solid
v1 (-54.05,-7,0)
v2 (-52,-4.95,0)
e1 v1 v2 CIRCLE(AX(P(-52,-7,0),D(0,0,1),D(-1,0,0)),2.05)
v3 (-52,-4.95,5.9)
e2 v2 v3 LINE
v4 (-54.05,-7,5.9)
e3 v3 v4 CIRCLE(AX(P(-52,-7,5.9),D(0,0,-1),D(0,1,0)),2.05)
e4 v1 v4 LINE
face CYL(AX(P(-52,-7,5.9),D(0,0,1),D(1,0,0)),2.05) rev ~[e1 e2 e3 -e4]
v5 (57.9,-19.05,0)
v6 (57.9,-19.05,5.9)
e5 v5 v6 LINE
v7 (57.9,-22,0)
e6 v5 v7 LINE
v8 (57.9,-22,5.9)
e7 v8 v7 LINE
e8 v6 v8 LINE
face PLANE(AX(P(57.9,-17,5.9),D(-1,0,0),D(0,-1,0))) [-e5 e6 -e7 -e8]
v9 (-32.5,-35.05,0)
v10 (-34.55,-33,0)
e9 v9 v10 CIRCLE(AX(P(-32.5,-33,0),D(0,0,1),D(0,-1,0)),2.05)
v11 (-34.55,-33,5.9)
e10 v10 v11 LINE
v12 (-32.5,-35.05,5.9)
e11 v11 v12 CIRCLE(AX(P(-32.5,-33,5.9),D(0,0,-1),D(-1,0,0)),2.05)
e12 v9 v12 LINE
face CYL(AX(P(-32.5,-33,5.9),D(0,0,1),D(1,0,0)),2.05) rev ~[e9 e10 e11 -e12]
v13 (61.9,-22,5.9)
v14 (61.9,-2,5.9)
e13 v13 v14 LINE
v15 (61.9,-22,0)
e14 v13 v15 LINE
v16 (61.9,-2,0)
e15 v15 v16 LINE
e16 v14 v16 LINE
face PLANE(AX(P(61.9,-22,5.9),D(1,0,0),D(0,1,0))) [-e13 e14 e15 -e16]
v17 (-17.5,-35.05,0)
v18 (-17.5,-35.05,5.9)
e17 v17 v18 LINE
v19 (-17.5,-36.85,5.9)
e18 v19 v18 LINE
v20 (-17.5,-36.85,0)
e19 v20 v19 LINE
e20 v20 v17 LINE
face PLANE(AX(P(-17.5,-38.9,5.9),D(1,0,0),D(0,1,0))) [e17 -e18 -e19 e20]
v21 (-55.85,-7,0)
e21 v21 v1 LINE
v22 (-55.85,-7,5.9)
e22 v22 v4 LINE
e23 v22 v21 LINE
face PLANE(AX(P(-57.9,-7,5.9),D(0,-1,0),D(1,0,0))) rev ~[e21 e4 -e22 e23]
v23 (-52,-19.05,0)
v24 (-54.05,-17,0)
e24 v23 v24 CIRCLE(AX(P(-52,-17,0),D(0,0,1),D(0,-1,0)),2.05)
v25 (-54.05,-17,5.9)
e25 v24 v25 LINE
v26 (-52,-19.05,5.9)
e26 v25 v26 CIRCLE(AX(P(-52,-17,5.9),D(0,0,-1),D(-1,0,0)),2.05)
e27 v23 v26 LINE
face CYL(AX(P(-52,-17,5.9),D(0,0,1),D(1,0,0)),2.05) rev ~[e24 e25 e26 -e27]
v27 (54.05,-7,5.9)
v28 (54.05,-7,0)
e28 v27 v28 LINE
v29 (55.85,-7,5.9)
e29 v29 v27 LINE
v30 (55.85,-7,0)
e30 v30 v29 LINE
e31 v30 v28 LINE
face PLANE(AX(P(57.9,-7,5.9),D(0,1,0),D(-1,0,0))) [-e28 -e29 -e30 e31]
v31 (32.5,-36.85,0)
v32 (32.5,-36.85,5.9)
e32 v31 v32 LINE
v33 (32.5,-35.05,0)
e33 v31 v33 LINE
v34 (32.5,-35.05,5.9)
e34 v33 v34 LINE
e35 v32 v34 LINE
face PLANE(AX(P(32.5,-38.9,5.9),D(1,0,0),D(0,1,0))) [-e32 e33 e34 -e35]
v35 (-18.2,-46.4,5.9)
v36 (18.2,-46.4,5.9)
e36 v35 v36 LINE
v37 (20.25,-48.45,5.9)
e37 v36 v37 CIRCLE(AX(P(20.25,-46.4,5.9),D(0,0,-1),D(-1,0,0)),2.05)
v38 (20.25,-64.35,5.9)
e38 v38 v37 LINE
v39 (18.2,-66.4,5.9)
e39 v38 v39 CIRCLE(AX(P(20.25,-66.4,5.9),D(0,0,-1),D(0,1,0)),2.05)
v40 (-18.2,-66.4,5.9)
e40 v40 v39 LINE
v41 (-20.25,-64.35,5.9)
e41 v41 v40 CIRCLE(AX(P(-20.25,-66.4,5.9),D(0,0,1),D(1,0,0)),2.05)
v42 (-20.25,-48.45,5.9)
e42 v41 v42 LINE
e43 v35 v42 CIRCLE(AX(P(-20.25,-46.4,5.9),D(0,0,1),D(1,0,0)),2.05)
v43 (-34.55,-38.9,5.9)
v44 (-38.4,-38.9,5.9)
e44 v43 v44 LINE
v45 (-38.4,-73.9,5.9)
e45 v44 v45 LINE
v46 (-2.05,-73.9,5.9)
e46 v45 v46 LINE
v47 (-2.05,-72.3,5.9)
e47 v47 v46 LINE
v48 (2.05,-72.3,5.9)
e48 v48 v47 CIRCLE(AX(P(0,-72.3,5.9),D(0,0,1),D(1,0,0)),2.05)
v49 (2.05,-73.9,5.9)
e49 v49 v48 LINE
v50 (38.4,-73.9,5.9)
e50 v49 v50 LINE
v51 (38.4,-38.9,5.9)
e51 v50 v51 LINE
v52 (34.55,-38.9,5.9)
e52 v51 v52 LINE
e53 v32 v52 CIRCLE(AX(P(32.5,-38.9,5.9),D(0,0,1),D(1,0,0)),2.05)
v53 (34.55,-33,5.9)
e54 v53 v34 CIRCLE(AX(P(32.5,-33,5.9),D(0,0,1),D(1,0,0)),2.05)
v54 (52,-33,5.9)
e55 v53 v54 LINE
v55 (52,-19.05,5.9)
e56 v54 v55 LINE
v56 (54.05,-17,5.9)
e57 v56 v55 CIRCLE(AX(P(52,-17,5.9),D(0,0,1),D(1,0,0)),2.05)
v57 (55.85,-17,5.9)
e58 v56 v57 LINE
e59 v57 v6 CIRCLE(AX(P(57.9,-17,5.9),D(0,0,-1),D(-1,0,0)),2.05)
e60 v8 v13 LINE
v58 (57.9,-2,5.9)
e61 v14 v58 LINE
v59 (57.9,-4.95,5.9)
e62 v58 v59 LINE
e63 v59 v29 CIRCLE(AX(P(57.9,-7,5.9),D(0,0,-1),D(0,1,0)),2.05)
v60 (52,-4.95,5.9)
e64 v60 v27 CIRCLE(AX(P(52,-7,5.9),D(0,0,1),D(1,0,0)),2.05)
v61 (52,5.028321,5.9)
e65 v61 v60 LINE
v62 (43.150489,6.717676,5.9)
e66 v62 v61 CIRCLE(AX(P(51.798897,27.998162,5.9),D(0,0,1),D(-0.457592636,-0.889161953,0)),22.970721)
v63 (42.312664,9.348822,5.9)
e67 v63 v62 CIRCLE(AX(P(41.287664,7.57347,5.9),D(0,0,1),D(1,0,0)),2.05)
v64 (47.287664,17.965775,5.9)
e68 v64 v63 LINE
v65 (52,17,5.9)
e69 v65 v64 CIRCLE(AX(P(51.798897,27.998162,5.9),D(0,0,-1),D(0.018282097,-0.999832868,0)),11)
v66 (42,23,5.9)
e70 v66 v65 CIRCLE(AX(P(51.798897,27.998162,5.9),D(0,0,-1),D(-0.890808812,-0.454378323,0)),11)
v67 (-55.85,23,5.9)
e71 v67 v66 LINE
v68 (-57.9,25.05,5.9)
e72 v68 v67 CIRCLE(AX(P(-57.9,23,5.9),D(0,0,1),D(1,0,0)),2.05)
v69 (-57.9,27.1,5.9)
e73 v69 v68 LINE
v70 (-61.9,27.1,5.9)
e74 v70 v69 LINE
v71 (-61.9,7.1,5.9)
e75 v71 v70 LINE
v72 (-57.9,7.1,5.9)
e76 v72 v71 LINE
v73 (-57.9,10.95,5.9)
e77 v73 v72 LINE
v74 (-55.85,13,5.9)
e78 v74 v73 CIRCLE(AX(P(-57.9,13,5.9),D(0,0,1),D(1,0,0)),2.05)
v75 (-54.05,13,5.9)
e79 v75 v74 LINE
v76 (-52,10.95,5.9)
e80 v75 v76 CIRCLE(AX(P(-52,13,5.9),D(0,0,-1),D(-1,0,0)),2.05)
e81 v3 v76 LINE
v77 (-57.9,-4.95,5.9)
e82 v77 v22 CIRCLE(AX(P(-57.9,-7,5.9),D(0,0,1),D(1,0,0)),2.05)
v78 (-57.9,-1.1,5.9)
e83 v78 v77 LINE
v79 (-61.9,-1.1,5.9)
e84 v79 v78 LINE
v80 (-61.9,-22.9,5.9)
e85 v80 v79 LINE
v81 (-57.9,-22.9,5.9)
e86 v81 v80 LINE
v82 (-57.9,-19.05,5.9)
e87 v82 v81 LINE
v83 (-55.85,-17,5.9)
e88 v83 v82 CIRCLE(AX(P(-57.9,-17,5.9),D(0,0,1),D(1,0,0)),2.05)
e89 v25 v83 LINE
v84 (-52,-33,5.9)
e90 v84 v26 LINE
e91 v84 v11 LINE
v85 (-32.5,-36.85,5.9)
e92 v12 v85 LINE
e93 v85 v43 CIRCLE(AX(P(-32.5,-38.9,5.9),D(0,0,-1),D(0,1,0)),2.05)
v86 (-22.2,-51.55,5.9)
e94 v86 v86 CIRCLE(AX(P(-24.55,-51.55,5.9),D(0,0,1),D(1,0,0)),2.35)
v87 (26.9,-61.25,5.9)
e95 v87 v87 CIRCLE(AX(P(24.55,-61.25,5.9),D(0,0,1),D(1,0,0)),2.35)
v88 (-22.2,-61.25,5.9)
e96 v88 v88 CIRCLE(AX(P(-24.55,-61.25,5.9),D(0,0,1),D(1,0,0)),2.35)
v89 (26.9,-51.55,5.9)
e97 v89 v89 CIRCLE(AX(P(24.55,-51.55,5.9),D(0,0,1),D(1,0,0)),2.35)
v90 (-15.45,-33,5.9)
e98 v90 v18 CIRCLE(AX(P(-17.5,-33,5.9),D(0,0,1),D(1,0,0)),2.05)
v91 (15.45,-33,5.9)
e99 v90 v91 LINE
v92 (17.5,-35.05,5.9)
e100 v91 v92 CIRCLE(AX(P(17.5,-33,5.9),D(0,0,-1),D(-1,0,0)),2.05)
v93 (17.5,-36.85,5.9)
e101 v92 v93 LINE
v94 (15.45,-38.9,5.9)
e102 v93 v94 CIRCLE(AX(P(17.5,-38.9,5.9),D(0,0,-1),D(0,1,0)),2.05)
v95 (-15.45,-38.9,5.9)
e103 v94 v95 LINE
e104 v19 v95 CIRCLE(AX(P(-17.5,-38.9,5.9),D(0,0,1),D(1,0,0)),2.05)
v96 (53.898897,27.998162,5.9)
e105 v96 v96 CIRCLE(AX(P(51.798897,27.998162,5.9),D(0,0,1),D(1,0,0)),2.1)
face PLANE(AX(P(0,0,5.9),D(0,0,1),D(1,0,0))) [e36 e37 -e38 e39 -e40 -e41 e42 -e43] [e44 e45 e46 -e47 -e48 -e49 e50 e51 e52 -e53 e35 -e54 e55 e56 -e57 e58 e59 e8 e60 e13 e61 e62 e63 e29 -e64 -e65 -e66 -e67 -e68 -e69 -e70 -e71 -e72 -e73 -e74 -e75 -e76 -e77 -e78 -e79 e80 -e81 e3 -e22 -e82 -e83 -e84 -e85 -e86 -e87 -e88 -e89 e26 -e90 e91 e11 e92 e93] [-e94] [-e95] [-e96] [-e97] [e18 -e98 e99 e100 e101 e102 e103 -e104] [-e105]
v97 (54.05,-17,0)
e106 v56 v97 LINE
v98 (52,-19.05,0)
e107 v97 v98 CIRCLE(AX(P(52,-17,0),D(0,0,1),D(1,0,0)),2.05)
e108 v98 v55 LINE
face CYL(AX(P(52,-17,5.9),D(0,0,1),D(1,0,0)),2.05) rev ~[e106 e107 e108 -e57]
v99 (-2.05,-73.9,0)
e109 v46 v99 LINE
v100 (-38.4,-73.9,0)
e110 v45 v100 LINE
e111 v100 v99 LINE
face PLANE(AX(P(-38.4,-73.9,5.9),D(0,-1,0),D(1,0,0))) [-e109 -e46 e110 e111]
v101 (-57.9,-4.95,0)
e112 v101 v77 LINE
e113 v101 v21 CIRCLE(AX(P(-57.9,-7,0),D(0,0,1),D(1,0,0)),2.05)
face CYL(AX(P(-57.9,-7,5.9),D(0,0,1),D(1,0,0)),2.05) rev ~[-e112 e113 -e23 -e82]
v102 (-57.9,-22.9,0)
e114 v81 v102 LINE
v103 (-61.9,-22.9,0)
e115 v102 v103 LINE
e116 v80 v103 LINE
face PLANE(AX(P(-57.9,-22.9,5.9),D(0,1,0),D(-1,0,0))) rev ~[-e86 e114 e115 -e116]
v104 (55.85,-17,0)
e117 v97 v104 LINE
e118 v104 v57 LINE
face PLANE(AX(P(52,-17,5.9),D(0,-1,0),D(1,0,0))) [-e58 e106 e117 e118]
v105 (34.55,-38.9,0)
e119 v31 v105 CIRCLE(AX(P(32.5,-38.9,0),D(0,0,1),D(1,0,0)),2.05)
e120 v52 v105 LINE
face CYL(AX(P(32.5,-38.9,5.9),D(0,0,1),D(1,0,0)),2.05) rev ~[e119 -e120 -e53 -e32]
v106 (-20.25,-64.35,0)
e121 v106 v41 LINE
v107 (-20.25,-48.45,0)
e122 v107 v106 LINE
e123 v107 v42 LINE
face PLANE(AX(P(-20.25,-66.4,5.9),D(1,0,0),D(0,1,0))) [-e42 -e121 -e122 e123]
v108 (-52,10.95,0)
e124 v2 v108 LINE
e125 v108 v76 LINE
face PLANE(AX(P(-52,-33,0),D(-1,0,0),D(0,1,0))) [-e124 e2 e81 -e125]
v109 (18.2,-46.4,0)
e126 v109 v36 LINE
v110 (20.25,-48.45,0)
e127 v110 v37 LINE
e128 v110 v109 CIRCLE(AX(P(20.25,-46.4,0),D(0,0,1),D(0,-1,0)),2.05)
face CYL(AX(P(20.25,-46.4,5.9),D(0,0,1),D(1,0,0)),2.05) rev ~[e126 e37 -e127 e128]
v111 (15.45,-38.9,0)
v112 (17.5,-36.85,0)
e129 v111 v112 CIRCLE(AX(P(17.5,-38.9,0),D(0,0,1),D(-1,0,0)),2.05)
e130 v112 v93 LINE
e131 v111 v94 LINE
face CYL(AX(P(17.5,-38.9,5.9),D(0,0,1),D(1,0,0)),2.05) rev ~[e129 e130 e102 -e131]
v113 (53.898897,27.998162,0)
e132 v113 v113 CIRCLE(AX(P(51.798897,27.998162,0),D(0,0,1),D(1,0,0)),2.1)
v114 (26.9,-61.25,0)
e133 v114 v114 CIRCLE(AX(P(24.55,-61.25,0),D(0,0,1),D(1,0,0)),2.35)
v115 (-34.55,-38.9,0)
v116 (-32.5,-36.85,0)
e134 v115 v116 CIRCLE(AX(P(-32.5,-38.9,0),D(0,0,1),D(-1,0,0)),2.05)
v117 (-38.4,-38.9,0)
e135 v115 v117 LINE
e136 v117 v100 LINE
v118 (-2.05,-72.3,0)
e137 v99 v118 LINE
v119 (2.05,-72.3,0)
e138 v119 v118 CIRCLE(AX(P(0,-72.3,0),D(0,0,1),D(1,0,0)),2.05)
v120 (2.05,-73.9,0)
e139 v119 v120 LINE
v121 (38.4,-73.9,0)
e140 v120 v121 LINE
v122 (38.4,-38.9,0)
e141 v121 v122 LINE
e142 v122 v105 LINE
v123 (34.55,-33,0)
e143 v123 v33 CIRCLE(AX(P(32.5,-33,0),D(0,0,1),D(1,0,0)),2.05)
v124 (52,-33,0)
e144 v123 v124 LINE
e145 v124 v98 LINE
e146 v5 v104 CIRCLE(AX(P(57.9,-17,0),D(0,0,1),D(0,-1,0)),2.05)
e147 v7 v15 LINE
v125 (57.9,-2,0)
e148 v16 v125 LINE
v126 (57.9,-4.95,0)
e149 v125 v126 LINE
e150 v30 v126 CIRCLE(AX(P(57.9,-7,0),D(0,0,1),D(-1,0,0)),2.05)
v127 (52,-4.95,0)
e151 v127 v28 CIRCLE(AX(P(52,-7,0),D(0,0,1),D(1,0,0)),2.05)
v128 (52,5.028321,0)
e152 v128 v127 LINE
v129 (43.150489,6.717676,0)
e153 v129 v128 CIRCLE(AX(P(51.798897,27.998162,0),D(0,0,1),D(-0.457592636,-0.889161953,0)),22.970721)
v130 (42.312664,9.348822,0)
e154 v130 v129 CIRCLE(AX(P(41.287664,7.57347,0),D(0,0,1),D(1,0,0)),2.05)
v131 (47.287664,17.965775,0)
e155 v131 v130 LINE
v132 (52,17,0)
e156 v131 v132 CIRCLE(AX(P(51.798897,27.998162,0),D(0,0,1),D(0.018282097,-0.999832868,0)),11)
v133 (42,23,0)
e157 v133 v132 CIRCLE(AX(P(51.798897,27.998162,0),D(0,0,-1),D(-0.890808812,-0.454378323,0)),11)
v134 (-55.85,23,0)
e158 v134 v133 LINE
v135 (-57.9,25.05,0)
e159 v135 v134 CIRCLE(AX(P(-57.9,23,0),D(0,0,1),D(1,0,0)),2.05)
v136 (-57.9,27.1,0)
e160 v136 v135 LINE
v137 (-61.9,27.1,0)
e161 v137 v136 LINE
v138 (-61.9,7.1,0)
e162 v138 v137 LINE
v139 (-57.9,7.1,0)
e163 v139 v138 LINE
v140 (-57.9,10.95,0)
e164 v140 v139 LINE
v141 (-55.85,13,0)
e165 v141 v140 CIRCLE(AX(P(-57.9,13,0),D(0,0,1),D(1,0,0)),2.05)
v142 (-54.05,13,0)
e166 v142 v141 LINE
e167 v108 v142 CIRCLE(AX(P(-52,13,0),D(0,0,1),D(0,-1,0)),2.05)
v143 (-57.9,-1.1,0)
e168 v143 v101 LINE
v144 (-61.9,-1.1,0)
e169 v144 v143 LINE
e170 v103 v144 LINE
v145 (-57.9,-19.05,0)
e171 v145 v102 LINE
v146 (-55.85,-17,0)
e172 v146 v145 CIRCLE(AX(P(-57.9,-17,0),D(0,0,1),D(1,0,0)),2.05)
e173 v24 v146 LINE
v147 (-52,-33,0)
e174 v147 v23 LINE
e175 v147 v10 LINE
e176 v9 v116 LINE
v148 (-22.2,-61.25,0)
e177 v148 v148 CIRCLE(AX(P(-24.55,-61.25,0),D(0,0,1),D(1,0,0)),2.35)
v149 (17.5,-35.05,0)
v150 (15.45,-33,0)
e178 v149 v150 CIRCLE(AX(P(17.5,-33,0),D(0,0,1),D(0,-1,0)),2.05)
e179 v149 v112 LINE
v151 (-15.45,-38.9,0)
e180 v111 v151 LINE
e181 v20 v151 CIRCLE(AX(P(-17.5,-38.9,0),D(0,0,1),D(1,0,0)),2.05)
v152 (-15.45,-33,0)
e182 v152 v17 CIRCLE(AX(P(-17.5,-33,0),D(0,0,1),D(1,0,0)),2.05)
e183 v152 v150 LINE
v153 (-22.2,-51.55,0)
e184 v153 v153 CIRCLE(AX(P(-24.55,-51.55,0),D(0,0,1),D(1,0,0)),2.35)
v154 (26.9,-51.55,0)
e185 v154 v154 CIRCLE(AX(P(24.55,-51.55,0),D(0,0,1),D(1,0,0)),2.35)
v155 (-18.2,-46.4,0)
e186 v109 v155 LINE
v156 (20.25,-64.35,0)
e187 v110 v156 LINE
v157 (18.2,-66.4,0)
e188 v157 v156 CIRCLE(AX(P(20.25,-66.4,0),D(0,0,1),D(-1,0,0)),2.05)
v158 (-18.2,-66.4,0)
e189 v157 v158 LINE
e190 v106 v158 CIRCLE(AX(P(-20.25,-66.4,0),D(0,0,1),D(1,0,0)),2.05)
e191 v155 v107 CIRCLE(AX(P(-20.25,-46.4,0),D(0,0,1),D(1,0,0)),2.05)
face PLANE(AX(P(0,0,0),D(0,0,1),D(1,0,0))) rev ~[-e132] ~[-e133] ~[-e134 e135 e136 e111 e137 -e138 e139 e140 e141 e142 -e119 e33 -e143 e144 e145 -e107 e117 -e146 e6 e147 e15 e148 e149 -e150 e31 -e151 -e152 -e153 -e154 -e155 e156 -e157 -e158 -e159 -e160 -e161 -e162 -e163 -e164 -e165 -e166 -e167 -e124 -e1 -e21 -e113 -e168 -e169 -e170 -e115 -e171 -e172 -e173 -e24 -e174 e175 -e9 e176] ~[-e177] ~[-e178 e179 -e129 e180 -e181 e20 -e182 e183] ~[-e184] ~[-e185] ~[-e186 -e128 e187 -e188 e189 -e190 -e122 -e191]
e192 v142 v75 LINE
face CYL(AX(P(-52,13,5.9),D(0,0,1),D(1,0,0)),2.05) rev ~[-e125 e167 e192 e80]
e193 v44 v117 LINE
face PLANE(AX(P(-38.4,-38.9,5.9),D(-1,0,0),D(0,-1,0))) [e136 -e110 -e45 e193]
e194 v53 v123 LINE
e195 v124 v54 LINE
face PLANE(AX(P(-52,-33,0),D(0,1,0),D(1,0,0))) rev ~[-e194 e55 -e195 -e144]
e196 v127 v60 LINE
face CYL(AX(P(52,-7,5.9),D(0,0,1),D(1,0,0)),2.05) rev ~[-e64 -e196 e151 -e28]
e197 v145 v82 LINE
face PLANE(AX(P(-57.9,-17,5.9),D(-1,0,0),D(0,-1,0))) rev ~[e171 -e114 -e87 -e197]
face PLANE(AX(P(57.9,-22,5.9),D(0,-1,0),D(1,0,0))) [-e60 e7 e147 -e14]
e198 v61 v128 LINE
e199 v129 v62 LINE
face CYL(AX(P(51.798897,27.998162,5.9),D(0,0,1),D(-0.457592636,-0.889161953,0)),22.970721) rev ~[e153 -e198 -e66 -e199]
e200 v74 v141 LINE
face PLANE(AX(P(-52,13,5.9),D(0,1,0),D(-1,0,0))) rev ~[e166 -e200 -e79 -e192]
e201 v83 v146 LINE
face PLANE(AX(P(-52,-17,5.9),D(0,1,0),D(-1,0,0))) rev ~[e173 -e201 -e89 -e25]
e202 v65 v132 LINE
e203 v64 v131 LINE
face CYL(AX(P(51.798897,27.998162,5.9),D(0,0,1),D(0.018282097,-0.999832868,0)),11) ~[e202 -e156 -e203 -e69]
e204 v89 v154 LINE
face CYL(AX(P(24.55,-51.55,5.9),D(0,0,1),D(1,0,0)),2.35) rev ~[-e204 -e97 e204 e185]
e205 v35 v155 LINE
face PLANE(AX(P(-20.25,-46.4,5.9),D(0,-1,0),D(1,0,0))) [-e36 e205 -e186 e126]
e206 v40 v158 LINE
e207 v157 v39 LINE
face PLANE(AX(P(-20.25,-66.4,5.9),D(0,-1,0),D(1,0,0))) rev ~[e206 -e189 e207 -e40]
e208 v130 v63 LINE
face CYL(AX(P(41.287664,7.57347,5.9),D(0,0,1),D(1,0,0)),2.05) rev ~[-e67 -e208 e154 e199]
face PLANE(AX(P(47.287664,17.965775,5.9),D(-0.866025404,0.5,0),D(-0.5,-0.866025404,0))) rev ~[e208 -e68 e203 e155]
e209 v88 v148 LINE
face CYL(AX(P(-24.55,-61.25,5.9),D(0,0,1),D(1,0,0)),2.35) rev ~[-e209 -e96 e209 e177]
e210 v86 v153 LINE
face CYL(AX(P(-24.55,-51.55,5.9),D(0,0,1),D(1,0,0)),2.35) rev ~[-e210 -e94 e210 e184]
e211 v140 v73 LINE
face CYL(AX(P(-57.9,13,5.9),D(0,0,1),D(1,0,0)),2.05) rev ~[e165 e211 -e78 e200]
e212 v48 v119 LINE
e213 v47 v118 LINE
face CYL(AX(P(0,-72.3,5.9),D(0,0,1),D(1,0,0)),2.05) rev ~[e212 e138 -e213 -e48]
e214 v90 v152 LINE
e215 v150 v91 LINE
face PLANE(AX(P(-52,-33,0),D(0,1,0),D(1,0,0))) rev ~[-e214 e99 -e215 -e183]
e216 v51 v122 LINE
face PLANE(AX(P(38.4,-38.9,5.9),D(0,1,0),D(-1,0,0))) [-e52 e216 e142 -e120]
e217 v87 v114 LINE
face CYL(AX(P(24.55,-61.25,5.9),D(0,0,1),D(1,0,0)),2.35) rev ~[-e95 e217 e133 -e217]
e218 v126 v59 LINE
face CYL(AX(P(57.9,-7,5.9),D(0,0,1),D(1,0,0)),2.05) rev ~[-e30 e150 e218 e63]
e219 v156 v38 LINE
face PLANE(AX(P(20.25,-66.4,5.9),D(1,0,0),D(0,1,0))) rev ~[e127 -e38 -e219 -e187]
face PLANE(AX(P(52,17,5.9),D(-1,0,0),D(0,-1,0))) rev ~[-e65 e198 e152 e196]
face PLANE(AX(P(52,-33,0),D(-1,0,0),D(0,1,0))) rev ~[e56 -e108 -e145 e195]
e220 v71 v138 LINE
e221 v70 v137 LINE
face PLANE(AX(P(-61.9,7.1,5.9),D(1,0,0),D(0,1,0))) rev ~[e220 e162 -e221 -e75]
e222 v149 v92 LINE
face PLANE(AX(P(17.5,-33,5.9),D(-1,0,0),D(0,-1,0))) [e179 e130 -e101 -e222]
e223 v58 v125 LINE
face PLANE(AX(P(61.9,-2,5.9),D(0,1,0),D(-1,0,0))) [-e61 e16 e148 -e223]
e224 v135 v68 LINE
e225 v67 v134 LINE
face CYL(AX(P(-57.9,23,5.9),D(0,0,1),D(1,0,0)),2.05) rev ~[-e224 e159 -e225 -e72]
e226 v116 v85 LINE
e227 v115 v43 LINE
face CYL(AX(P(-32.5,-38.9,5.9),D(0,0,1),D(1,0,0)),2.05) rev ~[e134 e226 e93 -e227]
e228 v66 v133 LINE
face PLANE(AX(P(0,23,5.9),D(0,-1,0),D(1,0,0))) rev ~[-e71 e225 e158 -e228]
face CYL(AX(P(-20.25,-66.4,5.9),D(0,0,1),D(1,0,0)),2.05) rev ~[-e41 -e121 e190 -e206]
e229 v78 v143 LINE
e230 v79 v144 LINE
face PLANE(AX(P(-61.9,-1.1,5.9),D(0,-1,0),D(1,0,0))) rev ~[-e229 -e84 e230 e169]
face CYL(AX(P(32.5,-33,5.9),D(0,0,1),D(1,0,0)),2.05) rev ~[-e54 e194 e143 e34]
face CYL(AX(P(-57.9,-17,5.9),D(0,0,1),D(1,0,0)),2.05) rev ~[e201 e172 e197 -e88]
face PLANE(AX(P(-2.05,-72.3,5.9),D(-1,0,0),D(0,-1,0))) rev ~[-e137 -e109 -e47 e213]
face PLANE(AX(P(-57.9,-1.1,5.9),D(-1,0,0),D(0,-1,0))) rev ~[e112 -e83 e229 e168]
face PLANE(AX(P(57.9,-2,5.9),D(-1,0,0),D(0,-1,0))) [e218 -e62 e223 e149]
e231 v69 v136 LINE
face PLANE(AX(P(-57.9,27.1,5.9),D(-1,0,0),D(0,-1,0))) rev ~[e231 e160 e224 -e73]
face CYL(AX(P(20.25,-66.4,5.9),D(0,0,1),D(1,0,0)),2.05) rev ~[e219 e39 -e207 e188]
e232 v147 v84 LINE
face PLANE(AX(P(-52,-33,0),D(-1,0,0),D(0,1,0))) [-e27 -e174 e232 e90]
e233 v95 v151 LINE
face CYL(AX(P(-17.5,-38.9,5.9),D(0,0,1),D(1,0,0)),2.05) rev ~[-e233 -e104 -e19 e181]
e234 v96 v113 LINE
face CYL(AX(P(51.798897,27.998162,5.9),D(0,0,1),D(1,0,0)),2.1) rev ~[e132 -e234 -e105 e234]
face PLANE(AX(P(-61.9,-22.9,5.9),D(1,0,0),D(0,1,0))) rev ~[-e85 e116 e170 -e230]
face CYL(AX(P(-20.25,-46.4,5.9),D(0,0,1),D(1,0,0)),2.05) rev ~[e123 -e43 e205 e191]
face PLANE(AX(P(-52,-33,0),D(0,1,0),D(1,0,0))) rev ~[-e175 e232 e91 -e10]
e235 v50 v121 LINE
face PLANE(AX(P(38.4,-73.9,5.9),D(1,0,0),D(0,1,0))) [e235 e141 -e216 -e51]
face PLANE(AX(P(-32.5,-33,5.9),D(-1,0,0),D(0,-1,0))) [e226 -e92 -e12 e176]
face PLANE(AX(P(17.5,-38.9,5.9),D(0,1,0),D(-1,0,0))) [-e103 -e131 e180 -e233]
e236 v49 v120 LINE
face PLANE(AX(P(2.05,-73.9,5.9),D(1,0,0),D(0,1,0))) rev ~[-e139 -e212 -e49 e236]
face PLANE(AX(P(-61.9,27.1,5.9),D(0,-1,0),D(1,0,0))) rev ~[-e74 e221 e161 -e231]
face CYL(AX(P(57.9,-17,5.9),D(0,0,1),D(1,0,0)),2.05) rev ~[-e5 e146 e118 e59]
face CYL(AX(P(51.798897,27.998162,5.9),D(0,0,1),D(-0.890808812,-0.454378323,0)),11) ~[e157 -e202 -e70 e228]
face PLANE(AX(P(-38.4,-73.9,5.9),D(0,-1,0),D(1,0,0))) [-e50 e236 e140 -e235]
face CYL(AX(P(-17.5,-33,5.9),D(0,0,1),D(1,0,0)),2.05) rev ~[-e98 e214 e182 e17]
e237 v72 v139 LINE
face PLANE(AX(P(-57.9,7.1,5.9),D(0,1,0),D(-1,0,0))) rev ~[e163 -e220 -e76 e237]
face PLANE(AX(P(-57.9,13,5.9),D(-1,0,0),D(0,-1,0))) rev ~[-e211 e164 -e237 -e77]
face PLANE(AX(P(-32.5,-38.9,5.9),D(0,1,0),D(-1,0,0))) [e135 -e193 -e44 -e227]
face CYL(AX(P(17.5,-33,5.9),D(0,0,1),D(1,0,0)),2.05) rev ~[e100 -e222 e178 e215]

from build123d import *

# Parameters (mm, degrees)
SKETCH2_W           = 104
SKETCH2_H           = 66
BOSS_EXTRUDE1_DEPTH = 5.9
BOSS_EXTRUDE2_DEPTH = 5.9
SKETCH4_W           = 104
SKETCH4_H           = 10
CUT_EXTRUDE1_DEPTH  = 8
BOSS_EXTRUDE4_DEPTH = 5.9
CUT_EXTRUDE2_DEPTH  = 8
SKETCH9_R           = 2.1
CUT_EXTRUDE3_DEPTH  = 6.9
CUT_EXTRUDE4_REACH  = 7.9
SKETCH10_R          = 2.35
SKETCH10_W          = 40.5
SKETCH10_H          = 20
CUT_EXTRUDE5_REACH  = 7.9
SKETCH11_R          = 2.05
CUT_EXTRUDE6_REACH  = 7.9


with BuildPart() as part:
    # Sketch2 → Boss-Extrude1 (new body)
    with BuildSketch(Plane.XY):
        Rectangle(SKETCH2_W, SKETCH2_H)
    extrude(amount=BOSS_EXTRUDE1_DEPTH)

    # Sketch3 → Boss-Extrude2 (add, through all)
    with BuildSketch(Plane.XY.offset(5.9)):
        Polygon((-52, -17), (-57.9, -17), (-57.9, -22.9), (-61.9, -22.9), (-61.9, -1.1), (-57.9, -1.1), (-57.9, -7), (-52, -7), align=None)
        Polygon((-52, 13), (-57.9, 13), (-57.9, 7.1), (-61.9, 7.1), (-61.9, 27.1), (-57.9, 27.1), (-57.9, 23), (-52, 23), align=None)
        Polygon((52, -7), (52, -17), (57.9, -17), (57.9, -22), (61.9, -22), (61.9, -2), (57.9, -2), (57.9, -7), align=None)
        Polygon((-32.5, -33), (-32.5, -38.9), (-38.4, -38.9), (-38.4, -73.9), (38.4, -73.9), (38.4, -38.9), (32.5, -38.9), (32.5, -33), (17.5, -33), (17.5, -38.9), (-17.5, -38.9), (-17.5, -33), align=None)
    extrude(amount=-BOSS_EXTRUDE2_DEPTH)

    # Sketch4 → Cut-Extrude1 (cut)
    with BuildSketch(Plane.XY.offset(5.9)):
        with Locations((0, 28)):
            Rectangle(SKETCH4_W, SKETCH4_H)
    extrude(amount=-CUT_EXTRUDE1_DEPTH, mode=Mode.SUBTRACT)

    # Sketch6 → Boss-Extrude4 (add)
    with BuildSketch(Plane.XY.offset(5.9)):
        with BuildLine():
            Line((52, 17), (52, 0))
            Line((52, 0), (0, 0))
            Line((0, 0), (0, 23))
            Line((0, 23), (42, 23))
            ThreePointArc((42, 23), (57.458350242, 37.430583736), (52, 17))
        make_face()
    extrude(amount=-BOSS_EXTRUDE4_DEPTH)

    # Sketch8 → Cut-Extrude2 (cut)
    with BuildSketch(Plane.XY.offset(5.9)):
        with BuildLine():
            Line((47.287664075, 17.965775092), (41.287664075, 7.573470247))
            ThreePointArc((41.287664075, 7.573470247), (46.489081435, 5.649562257), (52, 5.028320703))
            Line((52, 5.028320703), (52, 17))
            ThreePointArc((52, 17), (49.590394027, 17.222145828), (47.287664075, 17.965775092))
        make_face()
    extrude(amount=-CUT_EXTRUDE2_DEPTH, mode=Mode.SUBTRACT)

    # Sketch9 → Cut-Extrude3 (cut, through all)
    with BuildSketch(Plane.XY.offset(5.9)):
        with Locations((51.798896932, 27.998161553)):
            Circle(SKETCH9_R)
    extrude(amount=-CUT_EXTRUDE3_DEPTH, mode=Mode.SUBTRACT)

    # Sketch10 → Cut-Extrude4 (cut, up to next)
    with BuildSketch(Plane.XY.offset(5.9), mode=Mode.PRIVATE) as cut_extrude4_sk1:
        with Locations((-24.55, -51.55)):
            Circle(SKETCH10_R)
    cut_extrude4_tool1 = extrude(cut_extrude4_sk1.sketch, amount=-CUT_EXTRUDE4_REACH, mode=Mode.PRIVATE) & part.part
    add(cut_extrude4_tool1.solids().sort_by_distance((-24.55, -51.55, 5.9))[0], mode=Mode.SUBTRACT)
    # Sketch10 → Cut-Extrude4 (cut, up to next)
    with BuildSketch(Plane.XY.offset(5.9), mode=Mode.PRIVATE) as cut_extrude4_sk2:
        with Locations((-24.55, -61.25)):
            Circle(SKETCH10_R)
    cut_extrude4_tool2 = extrude(cut_extrude4_sk2.sketch, amount=-CUT_EXTRUDE4_REACH, mode=Mode.PRIVATE) & part.part
    add(cut_extrude4_tool2.solids().sort_by_distance((-24.55, -61.25, 5.9))[0], mode=Mode.SUBTRACT)
    # Sketch10 → Cut-Extrude4 (cut, up to next)
    with BuildSketch(Plane.XY.offset(5.9), mode=Mode.PRIVATE) as cut_extrude4_sk3:
        with Locations((24.55, -61.25)):
            Circle(SKETCH10_R)
    cut_extrude4_tool3 = extrude(cut_extrude4_sk3.sketch, amount=-CUT_EXTRUDE4_REACH, mode=Mode.PRIVATE) & part.part
    add(cut_extrude4_tool3.solids().sort_by_distance((24.55, -61.25, 5.9))[0], mode=Mode.SUBTRACT)
    # Sketch10 → Cut-Extrude4 (cut, up to next)
    with BuildSketch(Plane.XY.offset(5.9), mode=Mode.PRIVATE) as cut_extrude4_sk4:
        with Locations((24.55, -51.55)):
            Circle(SKETCH10_R)
    cut_extrude4_tool4 = extrude(cut_extrude4_sk4.sketch, amount=-CUT_EXTRUDE4_REACH, mode=Mode.PRIVATE) & part.part
    add(cut_extrude4_tool4.solids().sort_by_distance((24.55, -51.55, 5.9))[0], mode=Mode.SUBTRACT)
    # Sketch10 → Cut-Extrude4 (cut, up to next)
    with BuildSketch(Plane.XY.offset(5.9), mode=Mode.PRIVATE) as cut_extrude4_sk5:
        with Locations((0, -56.4)):
            Rectangle(SKETCH10_W, SKETCH10_H)
    cut_extrude4_tool5 = extrude(cut_extrude4_sk5.sketch, amount=-CUT_EXTRUDE4_REACH, mode=Mode.PRIVATE) & part.part
    add(cut_extrude4_tool5.solids().sort_by_distance((0, -56.4, 5.9))[0], mode=Mode.SUBTRACT)

    # Sketch11 → Cut-Extrude5 (cut, up to next)
    with BuildSketch(Plane.XY.offset(5.9), mode=Mode.PRIVATE) as cut_extrude5_sk1:
        with Locations((-52, 13)):
            Circle(SKETCH11_R)
    cut_extrude5_tool1 = extrude(cut_extrude5_sk1.sketch, amount=-CUT_EXTRUDE5_REACH, mode=Mode.PRIVATE) & part.part
    add(cut_extrude5_tool1.solids().sort_by_distance((-52, 13, 5.9))[0], mode=Mode.SUBTRACT)
    # Sketch11 → Cut-Extrude5 (cut, up to next)
    with BuildSketch(Plane.XY.offset(5.9), mode=Mode.PRIVATE) as cut_extrude5_sk2:
        with Locations((-52, -7)):
            Circle(SKETCH11_R)
    cut_extrude5_tool2 = extrude(cut_extrude5_sk2.sketch, amount=-CUT_EXTRUDE5_REACH, mode=Mode.PRIVATE) & part.part
    add(cut_extrude5_tool2.solids().sort_by_distance((-52, -7, 5.9))[0], mode=Mode.SUBTRACT)
    # Sketch11 → Cut-Extrude5 (cut, up to next)
    with BuildSketch(Plane.XY.offset(5.9), mode=Mode.PRIVATE) as cut_extrude5_sk3:
        with Locations((-57.9, -7)):
            Circle(SKETCH11_R)
    cut_extrude5_tool3 = extrude(cut_extrude5_sk3.sketch, amount=-CUT_EXTRUDE5_REACH, mode=Mode.PRIVATE) & part.part
    add(cut_extrude5_tool3.solids().sort_by_distance((-57.9, -7, 5.9))[0], mode=Mode.SUBTRACT)
    # Sketch11 → Cut-Extrude5 (cut, up to next)
    with BuildSketch(Plane.XY.offset(5.9), mode=Mode.PRIVATE) as cut_extrude5_sk4:
        with Locations((-57.9, 13)):
            Circle(SKETCH11_R)
    cut_extrude5_tool4 = extrude(cut_extrude5_sk4.sketch, amount=-CUT_EXTRUDE5_REACH, mode=Mode.PRIVATE) & part.part
    add(cut_extrude5_tool4.solids().sort_by_distance((-57.9, 13, 5.9))[0], mode=Mode.SUBTRACT)
    # Sketch11 → Cut-Extrude5 (cut, up to next)
    with BuildSketch(Plane.XY.offset(5.9), mode=Mode.PRIVATE) as cut_extrude5_sk5:
        with Locations((-57.9, 23)):
            Circle(SKETCH11_R)
    cut_extrude5_tool5 = extrude(cut_extrude5_sk5.sketch, amount=-CUT_EXTRUDE5_REACH, mode=Mode.PRIVATE) & part.part
    add(cut_extrude5_tool5.solids().sort_by_distance((-57.9, 23, 5.9))[0], mode=Mode.SUBTRACT)
    # Sketch11 → Cut-Extrude5 (cut, up to next)
    with BuildSketch(Plane.XY.offset(5.9), mode=Mode.PRIVATE) as cut_extrude5_sk6:
        with Locations((-52, -17)):
            Circle(SKETCH11_R)
    cut_extrude5_tool6 = extrude(cut_extrude5_sk6.sketch, amount=-CUT_EXTRUDE5_REACH, mode=Mode.PRIVATE) & part.part
    add(cut_extrude5_tool6.solids().sort_by_distance((-52, -17, 5.9))[0], mode=Mode.SUBTRACT)
    # Sketch11 → Cut-Extrude5 (cut, up to next)
    with BuildSketch(Plane.XY.offset(5.9), mode=Mode.PRIVATE) as cut_extrude5_sk7:
        with Locations((-57.9, -17)):
            Circle(SKETCH11_R)
    cut_extrude5_tool7 = extrude(cut_extrude5_sk7.sketch, amount=-CUT_EXTRUDE5_REACH, mode=Mode.PRIVATE) & part.part
    add(cut_extrude5_tool7.solids().sort_by_distance((-57.9, -17, 5.9))[0], mode=Mode.SUBTRACT)
    # Sketch11 → Cut-Extrude5 (cut, up to next)
    with BuildSketch(Plane.XY.offset(5.9), mode=Mode.PRIVATE) as cut_extrude5_sk8:
        with Locations((-32.5, -38.9)):
            Circle(SKETCH11_R)
    cut_extrude5_tool8 = extrude(cut_extrude5_sk8.sketch, amount=-CUT_EXTRUDE5_REACH, mode=Mode.PRIVATE) & part.part
    add(cut_extrude5_tool8.solids().sort_by_distance((-32.5, -38.9, 5.9))[0], mode=Mode.SUBTRACT)
    # Sketch11 → Cut-Extrude5 (cut, up to next)
    with BuildSketch(Plane.XY.offset(5.9), mode=Mode.PRIVATE) as cut_extrude5_sk9:
        with Locations((-32.5, -33)):
            Circle(SKETCH11_R)
    cut_extrude5_tool9 = extrude(cut_extrude5_sk9.sketch, amount=-CUT_EXTRUDE5_REACH, mode=Mode.PRIVATE) & part.part
    add(cut_extrude5_tool9.solids().sort_by_distance((-32.5, -33, 5.9))[0], mode=Mode.SUBTRACT)
    # Sketch11 → Cut-Extrude5 (cut, up to next)
    with BuildSketch(Plane.XY.offset(5.9), mode=Mode.PRIVATE) as cut_extrude5_sk10:
        with Locations((-17.5, -33)):
            Circle(SKETCH11_R)
    cut_extrude5_tool10 = extrude(cut_extrude5_sk10.sketch, amount=-CUT_EXTRUDE5_REACH, mode=Mode.PRIVATE) & part.part
    add(cut_extrude5_tool10.solids().sort_by_distance((-17.5, -33, 5.9))[0], mode=Mode.SUBTRACT)
    # Sketch11 → Cut-Extrude5 (cut, up to next)
    with BuildSketch(Plane.XY.offset(5.9), mode=Mode.PRIVATE) as cut_extrude5_sk11:
        with Locations((-17.5, -38.9)):
            Circle(SKETCH11_R)
    cut_extrude5_tool11 = extrude(cut_extrude5_sk11.sketch, amount=-CUT_EXTRUDE5_REACH, mode=Mode.PRIVATE) & part.part
    add(cut_extrude5_tool11.solids().sort_by_distance((-17.5, -38.9, 5.9))[0], mode=Mode.SUBTRACT)
    # Sketch11 → Cut-Extrude5 (cut, up to next)
    with BuildSketch(Plane.XY.offset(5.9), mode=Mode.PRIVATE) as cut_extrude5_sk12:
        with Locations((17.5, -33)):
            Circle(SKETCH11_R)
    cut_extrude5_tool12 = extrude(cut_extrude5_sk12.sketch, amount=-CUT_EXTRUDE5_REACH, mode=Mode.PRIVATE) & part.part
    add(cut_extrude5_tool12.solids().sort_by_distance((17.5, -33, 5.9))[0], mode=Mode.SUBTRACT)
    # Sketch11 → Cut-Extrude5 (cut, up to next)
    with BuildSketch(Plane.XY.offset(5.9), mode=Mode.PRIVATE) as cut_extrude5_sk13:
        with Locations((17.5, -38.9)):
            Circle(SKETCH11_R)
    cut_extrude5_tool13 = extrude(cut_extrude5_sk13.sketch, amount=-CUT_EXTRUDE5_REACH, mode=Mode.PRIVATE) & part.part
    add(cut_extrude5_tool13.solids().sort_by_distance((17.5, -38.9, 5.9))[0], mode=Mode.SUBTRACT)
    # Sketch11 → Cut-Extrude5 (cut, up to next)
    with BuildSketch(Plane.XY.offset(5.9), mode=Mode.PRIVATE) as cut_extrude5_sk14:
        with Locations((32.5, -33)):
            Circle(SKETCH11_R)
    cut_extrude5_tool14 = extrude(cut_extrude5_sk14.sketch, amount=-CUT_EXTRUDE5_REACH, mode=Mode.PRIVATE) & part.part
    add(cut_extrude5_tool14.solids().sort_by_distance((32.5, -33, 5.9))[0], mode=Mode.SUBTRACT)
    # Sketch11 → Cut-Extrude5 (cut, up to next)
    with BuildSketch(Plane.XY.offset(5.9), mode=Mode.PRIVATE) as cut_extrude5_sk15:
        with Locations((32.5, -38.9)):
            Circle(SKETCH11_R)
    cut_extrude5_tool15 = extrude(cut_extrude5_sk15.sketch, amount=-CUT_EXTRUDE5_REACH, mode=Mode.PRIVATE) & part.part
    add(cut_extrude5_tool15.solids().sort_by_distance((32.5, -38.9, 5.9))[0], mode=Mode.SUBTRACT)
    # Sketch11 → Cut-Extrude5 (cut, up to next)
    with BuildSketch(Plane.XY.offset(5.9), mode=Mode.PRIVATE) as cut_extrude5_sk16:
        with Locations((-20.25, -46.4)):
            Circle(SKETCH11_R)
    cut_extrude5_tool16 = extrude(cut_extrude5_sk16.sketch, amount=-CUT_EXTRUDE5_REACH, mode=Mode.PRIVATE) & part.part
    add(cut_extrude5_tool16.solids().sort_by_distance((-20.25, -46.4, 5.9))[0], mode=Mode.SUBTRACT)
    # Sketch11 → Cut-Extrude5 (cut, up to next)
    with BuildSketch(Plane.XY.offset(5.9), mode=Mode.PRIVATE) as cut_extrude5_sk17:
        with Locations((-20.25, -66.4)):
            Circle(SKETCH11_R)
    cut_extrude5_tool17 = extrude(cut_extrude5_sk17.sketch, amount=-CUT_EXTRUDE5_REACH, mode=Mode.PRIVATE) & part.part
    add(cut_extrude5_tool17.solids().sort_by_distance((-20.25, -66.4, 5.9))[0], mode=Mode.SUBTRACT)
    # Sketch11 → Cut-Extrude5 (cut, up to next)
    with BuildSketch(Plane.XY.offset(5.9), mode=Mode.PRIVATE) as cut_extrude5_sk18:
        with Locations((20.25, -66.4)):
            Circle(SKETCH11_R)
    cut_extrude5_tool18 = extrude(cut_extrude5_sk18.sketch, amount=-CUT_EXTRUDE5_REACH, mode=Mode.PRIVATE) & part.part
    add(cut_extrude5_tool18.solids().sort_by_distance((20.25, -66.4, 5.9))[0], mode=Mode.SUBTRACT)
    # Sketch11 → Cut-Extrude5 (cut, up to next)
    with BuildSketch(Plane.XY.offset(5.9), mode=Mode.PRIVATE) as cut_extrude5_sk19:
        with Locations((20.25, -46.4)):
            Circle(SKETCH11_R)
    cut_extrude5_tool19 = extrude(cut_extrude5_sk19.sketch, amount=-CUT_EXTRUDE5_REACH, mode=Mode.PRIVATE) & part.part
    add(cut_extrude5_tool19.solids().sort_by_distance((20.25, -46.4, 5.9))[0], mode=Mode.SUBTRACT)
    # Sketch11 → Cut-Extrude5 (cut, up to next)
    with BuildSketch(Plane.XY.offset(5.9), mode=Mode.PRIVATE) as cut_extrude5_sk20:
        with Locations((52, -17)):
            Circle(SKETCH11_R)
    cut_extrude5_tool20 = extrude(cut_extrude5_sk20.sketch, amount=-CUT_EXTRUDE5_REACH, mode=Mode.PRIVATE) & part.part
    add(cut_extrude5_tool20.solids().sort_by_distance((52, -17, 5.9))[0], mode=Mode.SUBTRACT)
    # Sketch11 → Cut-Extrude5 (cut, up to next)
    with BuildSketch(Plane.XY.offset(5.9), mode=Mode.PRIVATE) as cut_extrude5_sk21:
        with Locations((57.9, -17)):
            Circle(SKETCH11_R)
    cut_extrude5_tool21 = extrude(cut_extrude5_sk21.sketch, amount=-CUT_EXTRUDE5_REACH, mode=Mode.PRIVATE) & part.part
    add(cut_extrude5_tool21.solids().sort_by_distance((57.9, -17, 5.9))[0], mode=Mode.SUBTRACT)
    # Sketch11 → Cut-Extrude5 (cut, up to next)
    with BuildSketch(Plane.XY.offset(5.9), mode=Mode.PRIVATE) as cut_extrude5_sk22:
        with Locations((57.9, -7)):
            Circle(SKETCH11_R)
    cut_extrude5_tool22 = extrude(cut_extrude5_sk22.sketch, amount=-CUT_EXTRUDE5_REACH, mode=Mode.PRIVATE) & part.part
    add(cut_extrude5_tool22.solids().sort_by_distance((57.9, -7, 5.9))[0], mode=Mode.SUBTRACT)
    # Sketch11 → Cut-Extrude5 (cut, up to next)
    with BuildSketch(Plane.XY.offset(5.9), mode=Mode.PRIVATE) as cut_extrude5_sk23:
        with Locations((52, -7)):
            Circle(SKETCH11_R)
    cut_extrude5_tool23 = extrude(cut_extrude5_sk23.sketch, amount=-CUT_EXTRUDE5_REACH, mode=Mode.PRIVATE) & part.part
    add(cut_extrude5_tool23.solids().sort_by_distance((52, -7, 5.9))[0], mode=Mode.SUBTRACT)
    # Sketch11 → Cut-Extrude5 (cut, up to next)
    with BuildSketch(Plane.XY.offset(5.9), mode=Mode.PRIVATE) as cut_extrude5_sk24:
        with Locations((41.287664075, 7.573470247)):
            Circle(SKETCH11_R)
    cut_extrude5_tool24 = extrude(cut_extrude5_sk24.sketch, amount=-CUT_EXTRUDE5_REACH, mode=Mode.PRIVATE) & part.part
    add(cut_extrude5_tool24.solids().sort_by_distance((41.287664, 7.57347, 5.9))[0], mode=Mode.SUBTRACT)

    # Sketch12 → Cut-Extrude6 (cut, up to next)
    with BuildSketch(Plane.XY.offset(5.9), mode=Mode.PRIVATE) as cut_extrude6_sk1:
        with BuildLine():
            Line((-2.05, -72.3), (-2.05, -73.9))
            Line((-2.05, -73.9), (2.05, -73.9))
            Line((2.05, -73.9), (2.05, -72.3))
            ThreePointArc((2.05, -72.3), (0, -70.25), (-2.05, -72.3))
        make_face()
    cut_extrude6_tool1 = extrude(cut_extrude6_sk1.sketch, amount=-CUT_EXTRUDE6_REACH, mode=Mode.PRIVATE) & part.part
    add(cut_extrude6_tool1.solids().sort_by_distance((0, -72.262358, 5.9))[0], mode=Mode.SUBTRACT)


solid = part.part
